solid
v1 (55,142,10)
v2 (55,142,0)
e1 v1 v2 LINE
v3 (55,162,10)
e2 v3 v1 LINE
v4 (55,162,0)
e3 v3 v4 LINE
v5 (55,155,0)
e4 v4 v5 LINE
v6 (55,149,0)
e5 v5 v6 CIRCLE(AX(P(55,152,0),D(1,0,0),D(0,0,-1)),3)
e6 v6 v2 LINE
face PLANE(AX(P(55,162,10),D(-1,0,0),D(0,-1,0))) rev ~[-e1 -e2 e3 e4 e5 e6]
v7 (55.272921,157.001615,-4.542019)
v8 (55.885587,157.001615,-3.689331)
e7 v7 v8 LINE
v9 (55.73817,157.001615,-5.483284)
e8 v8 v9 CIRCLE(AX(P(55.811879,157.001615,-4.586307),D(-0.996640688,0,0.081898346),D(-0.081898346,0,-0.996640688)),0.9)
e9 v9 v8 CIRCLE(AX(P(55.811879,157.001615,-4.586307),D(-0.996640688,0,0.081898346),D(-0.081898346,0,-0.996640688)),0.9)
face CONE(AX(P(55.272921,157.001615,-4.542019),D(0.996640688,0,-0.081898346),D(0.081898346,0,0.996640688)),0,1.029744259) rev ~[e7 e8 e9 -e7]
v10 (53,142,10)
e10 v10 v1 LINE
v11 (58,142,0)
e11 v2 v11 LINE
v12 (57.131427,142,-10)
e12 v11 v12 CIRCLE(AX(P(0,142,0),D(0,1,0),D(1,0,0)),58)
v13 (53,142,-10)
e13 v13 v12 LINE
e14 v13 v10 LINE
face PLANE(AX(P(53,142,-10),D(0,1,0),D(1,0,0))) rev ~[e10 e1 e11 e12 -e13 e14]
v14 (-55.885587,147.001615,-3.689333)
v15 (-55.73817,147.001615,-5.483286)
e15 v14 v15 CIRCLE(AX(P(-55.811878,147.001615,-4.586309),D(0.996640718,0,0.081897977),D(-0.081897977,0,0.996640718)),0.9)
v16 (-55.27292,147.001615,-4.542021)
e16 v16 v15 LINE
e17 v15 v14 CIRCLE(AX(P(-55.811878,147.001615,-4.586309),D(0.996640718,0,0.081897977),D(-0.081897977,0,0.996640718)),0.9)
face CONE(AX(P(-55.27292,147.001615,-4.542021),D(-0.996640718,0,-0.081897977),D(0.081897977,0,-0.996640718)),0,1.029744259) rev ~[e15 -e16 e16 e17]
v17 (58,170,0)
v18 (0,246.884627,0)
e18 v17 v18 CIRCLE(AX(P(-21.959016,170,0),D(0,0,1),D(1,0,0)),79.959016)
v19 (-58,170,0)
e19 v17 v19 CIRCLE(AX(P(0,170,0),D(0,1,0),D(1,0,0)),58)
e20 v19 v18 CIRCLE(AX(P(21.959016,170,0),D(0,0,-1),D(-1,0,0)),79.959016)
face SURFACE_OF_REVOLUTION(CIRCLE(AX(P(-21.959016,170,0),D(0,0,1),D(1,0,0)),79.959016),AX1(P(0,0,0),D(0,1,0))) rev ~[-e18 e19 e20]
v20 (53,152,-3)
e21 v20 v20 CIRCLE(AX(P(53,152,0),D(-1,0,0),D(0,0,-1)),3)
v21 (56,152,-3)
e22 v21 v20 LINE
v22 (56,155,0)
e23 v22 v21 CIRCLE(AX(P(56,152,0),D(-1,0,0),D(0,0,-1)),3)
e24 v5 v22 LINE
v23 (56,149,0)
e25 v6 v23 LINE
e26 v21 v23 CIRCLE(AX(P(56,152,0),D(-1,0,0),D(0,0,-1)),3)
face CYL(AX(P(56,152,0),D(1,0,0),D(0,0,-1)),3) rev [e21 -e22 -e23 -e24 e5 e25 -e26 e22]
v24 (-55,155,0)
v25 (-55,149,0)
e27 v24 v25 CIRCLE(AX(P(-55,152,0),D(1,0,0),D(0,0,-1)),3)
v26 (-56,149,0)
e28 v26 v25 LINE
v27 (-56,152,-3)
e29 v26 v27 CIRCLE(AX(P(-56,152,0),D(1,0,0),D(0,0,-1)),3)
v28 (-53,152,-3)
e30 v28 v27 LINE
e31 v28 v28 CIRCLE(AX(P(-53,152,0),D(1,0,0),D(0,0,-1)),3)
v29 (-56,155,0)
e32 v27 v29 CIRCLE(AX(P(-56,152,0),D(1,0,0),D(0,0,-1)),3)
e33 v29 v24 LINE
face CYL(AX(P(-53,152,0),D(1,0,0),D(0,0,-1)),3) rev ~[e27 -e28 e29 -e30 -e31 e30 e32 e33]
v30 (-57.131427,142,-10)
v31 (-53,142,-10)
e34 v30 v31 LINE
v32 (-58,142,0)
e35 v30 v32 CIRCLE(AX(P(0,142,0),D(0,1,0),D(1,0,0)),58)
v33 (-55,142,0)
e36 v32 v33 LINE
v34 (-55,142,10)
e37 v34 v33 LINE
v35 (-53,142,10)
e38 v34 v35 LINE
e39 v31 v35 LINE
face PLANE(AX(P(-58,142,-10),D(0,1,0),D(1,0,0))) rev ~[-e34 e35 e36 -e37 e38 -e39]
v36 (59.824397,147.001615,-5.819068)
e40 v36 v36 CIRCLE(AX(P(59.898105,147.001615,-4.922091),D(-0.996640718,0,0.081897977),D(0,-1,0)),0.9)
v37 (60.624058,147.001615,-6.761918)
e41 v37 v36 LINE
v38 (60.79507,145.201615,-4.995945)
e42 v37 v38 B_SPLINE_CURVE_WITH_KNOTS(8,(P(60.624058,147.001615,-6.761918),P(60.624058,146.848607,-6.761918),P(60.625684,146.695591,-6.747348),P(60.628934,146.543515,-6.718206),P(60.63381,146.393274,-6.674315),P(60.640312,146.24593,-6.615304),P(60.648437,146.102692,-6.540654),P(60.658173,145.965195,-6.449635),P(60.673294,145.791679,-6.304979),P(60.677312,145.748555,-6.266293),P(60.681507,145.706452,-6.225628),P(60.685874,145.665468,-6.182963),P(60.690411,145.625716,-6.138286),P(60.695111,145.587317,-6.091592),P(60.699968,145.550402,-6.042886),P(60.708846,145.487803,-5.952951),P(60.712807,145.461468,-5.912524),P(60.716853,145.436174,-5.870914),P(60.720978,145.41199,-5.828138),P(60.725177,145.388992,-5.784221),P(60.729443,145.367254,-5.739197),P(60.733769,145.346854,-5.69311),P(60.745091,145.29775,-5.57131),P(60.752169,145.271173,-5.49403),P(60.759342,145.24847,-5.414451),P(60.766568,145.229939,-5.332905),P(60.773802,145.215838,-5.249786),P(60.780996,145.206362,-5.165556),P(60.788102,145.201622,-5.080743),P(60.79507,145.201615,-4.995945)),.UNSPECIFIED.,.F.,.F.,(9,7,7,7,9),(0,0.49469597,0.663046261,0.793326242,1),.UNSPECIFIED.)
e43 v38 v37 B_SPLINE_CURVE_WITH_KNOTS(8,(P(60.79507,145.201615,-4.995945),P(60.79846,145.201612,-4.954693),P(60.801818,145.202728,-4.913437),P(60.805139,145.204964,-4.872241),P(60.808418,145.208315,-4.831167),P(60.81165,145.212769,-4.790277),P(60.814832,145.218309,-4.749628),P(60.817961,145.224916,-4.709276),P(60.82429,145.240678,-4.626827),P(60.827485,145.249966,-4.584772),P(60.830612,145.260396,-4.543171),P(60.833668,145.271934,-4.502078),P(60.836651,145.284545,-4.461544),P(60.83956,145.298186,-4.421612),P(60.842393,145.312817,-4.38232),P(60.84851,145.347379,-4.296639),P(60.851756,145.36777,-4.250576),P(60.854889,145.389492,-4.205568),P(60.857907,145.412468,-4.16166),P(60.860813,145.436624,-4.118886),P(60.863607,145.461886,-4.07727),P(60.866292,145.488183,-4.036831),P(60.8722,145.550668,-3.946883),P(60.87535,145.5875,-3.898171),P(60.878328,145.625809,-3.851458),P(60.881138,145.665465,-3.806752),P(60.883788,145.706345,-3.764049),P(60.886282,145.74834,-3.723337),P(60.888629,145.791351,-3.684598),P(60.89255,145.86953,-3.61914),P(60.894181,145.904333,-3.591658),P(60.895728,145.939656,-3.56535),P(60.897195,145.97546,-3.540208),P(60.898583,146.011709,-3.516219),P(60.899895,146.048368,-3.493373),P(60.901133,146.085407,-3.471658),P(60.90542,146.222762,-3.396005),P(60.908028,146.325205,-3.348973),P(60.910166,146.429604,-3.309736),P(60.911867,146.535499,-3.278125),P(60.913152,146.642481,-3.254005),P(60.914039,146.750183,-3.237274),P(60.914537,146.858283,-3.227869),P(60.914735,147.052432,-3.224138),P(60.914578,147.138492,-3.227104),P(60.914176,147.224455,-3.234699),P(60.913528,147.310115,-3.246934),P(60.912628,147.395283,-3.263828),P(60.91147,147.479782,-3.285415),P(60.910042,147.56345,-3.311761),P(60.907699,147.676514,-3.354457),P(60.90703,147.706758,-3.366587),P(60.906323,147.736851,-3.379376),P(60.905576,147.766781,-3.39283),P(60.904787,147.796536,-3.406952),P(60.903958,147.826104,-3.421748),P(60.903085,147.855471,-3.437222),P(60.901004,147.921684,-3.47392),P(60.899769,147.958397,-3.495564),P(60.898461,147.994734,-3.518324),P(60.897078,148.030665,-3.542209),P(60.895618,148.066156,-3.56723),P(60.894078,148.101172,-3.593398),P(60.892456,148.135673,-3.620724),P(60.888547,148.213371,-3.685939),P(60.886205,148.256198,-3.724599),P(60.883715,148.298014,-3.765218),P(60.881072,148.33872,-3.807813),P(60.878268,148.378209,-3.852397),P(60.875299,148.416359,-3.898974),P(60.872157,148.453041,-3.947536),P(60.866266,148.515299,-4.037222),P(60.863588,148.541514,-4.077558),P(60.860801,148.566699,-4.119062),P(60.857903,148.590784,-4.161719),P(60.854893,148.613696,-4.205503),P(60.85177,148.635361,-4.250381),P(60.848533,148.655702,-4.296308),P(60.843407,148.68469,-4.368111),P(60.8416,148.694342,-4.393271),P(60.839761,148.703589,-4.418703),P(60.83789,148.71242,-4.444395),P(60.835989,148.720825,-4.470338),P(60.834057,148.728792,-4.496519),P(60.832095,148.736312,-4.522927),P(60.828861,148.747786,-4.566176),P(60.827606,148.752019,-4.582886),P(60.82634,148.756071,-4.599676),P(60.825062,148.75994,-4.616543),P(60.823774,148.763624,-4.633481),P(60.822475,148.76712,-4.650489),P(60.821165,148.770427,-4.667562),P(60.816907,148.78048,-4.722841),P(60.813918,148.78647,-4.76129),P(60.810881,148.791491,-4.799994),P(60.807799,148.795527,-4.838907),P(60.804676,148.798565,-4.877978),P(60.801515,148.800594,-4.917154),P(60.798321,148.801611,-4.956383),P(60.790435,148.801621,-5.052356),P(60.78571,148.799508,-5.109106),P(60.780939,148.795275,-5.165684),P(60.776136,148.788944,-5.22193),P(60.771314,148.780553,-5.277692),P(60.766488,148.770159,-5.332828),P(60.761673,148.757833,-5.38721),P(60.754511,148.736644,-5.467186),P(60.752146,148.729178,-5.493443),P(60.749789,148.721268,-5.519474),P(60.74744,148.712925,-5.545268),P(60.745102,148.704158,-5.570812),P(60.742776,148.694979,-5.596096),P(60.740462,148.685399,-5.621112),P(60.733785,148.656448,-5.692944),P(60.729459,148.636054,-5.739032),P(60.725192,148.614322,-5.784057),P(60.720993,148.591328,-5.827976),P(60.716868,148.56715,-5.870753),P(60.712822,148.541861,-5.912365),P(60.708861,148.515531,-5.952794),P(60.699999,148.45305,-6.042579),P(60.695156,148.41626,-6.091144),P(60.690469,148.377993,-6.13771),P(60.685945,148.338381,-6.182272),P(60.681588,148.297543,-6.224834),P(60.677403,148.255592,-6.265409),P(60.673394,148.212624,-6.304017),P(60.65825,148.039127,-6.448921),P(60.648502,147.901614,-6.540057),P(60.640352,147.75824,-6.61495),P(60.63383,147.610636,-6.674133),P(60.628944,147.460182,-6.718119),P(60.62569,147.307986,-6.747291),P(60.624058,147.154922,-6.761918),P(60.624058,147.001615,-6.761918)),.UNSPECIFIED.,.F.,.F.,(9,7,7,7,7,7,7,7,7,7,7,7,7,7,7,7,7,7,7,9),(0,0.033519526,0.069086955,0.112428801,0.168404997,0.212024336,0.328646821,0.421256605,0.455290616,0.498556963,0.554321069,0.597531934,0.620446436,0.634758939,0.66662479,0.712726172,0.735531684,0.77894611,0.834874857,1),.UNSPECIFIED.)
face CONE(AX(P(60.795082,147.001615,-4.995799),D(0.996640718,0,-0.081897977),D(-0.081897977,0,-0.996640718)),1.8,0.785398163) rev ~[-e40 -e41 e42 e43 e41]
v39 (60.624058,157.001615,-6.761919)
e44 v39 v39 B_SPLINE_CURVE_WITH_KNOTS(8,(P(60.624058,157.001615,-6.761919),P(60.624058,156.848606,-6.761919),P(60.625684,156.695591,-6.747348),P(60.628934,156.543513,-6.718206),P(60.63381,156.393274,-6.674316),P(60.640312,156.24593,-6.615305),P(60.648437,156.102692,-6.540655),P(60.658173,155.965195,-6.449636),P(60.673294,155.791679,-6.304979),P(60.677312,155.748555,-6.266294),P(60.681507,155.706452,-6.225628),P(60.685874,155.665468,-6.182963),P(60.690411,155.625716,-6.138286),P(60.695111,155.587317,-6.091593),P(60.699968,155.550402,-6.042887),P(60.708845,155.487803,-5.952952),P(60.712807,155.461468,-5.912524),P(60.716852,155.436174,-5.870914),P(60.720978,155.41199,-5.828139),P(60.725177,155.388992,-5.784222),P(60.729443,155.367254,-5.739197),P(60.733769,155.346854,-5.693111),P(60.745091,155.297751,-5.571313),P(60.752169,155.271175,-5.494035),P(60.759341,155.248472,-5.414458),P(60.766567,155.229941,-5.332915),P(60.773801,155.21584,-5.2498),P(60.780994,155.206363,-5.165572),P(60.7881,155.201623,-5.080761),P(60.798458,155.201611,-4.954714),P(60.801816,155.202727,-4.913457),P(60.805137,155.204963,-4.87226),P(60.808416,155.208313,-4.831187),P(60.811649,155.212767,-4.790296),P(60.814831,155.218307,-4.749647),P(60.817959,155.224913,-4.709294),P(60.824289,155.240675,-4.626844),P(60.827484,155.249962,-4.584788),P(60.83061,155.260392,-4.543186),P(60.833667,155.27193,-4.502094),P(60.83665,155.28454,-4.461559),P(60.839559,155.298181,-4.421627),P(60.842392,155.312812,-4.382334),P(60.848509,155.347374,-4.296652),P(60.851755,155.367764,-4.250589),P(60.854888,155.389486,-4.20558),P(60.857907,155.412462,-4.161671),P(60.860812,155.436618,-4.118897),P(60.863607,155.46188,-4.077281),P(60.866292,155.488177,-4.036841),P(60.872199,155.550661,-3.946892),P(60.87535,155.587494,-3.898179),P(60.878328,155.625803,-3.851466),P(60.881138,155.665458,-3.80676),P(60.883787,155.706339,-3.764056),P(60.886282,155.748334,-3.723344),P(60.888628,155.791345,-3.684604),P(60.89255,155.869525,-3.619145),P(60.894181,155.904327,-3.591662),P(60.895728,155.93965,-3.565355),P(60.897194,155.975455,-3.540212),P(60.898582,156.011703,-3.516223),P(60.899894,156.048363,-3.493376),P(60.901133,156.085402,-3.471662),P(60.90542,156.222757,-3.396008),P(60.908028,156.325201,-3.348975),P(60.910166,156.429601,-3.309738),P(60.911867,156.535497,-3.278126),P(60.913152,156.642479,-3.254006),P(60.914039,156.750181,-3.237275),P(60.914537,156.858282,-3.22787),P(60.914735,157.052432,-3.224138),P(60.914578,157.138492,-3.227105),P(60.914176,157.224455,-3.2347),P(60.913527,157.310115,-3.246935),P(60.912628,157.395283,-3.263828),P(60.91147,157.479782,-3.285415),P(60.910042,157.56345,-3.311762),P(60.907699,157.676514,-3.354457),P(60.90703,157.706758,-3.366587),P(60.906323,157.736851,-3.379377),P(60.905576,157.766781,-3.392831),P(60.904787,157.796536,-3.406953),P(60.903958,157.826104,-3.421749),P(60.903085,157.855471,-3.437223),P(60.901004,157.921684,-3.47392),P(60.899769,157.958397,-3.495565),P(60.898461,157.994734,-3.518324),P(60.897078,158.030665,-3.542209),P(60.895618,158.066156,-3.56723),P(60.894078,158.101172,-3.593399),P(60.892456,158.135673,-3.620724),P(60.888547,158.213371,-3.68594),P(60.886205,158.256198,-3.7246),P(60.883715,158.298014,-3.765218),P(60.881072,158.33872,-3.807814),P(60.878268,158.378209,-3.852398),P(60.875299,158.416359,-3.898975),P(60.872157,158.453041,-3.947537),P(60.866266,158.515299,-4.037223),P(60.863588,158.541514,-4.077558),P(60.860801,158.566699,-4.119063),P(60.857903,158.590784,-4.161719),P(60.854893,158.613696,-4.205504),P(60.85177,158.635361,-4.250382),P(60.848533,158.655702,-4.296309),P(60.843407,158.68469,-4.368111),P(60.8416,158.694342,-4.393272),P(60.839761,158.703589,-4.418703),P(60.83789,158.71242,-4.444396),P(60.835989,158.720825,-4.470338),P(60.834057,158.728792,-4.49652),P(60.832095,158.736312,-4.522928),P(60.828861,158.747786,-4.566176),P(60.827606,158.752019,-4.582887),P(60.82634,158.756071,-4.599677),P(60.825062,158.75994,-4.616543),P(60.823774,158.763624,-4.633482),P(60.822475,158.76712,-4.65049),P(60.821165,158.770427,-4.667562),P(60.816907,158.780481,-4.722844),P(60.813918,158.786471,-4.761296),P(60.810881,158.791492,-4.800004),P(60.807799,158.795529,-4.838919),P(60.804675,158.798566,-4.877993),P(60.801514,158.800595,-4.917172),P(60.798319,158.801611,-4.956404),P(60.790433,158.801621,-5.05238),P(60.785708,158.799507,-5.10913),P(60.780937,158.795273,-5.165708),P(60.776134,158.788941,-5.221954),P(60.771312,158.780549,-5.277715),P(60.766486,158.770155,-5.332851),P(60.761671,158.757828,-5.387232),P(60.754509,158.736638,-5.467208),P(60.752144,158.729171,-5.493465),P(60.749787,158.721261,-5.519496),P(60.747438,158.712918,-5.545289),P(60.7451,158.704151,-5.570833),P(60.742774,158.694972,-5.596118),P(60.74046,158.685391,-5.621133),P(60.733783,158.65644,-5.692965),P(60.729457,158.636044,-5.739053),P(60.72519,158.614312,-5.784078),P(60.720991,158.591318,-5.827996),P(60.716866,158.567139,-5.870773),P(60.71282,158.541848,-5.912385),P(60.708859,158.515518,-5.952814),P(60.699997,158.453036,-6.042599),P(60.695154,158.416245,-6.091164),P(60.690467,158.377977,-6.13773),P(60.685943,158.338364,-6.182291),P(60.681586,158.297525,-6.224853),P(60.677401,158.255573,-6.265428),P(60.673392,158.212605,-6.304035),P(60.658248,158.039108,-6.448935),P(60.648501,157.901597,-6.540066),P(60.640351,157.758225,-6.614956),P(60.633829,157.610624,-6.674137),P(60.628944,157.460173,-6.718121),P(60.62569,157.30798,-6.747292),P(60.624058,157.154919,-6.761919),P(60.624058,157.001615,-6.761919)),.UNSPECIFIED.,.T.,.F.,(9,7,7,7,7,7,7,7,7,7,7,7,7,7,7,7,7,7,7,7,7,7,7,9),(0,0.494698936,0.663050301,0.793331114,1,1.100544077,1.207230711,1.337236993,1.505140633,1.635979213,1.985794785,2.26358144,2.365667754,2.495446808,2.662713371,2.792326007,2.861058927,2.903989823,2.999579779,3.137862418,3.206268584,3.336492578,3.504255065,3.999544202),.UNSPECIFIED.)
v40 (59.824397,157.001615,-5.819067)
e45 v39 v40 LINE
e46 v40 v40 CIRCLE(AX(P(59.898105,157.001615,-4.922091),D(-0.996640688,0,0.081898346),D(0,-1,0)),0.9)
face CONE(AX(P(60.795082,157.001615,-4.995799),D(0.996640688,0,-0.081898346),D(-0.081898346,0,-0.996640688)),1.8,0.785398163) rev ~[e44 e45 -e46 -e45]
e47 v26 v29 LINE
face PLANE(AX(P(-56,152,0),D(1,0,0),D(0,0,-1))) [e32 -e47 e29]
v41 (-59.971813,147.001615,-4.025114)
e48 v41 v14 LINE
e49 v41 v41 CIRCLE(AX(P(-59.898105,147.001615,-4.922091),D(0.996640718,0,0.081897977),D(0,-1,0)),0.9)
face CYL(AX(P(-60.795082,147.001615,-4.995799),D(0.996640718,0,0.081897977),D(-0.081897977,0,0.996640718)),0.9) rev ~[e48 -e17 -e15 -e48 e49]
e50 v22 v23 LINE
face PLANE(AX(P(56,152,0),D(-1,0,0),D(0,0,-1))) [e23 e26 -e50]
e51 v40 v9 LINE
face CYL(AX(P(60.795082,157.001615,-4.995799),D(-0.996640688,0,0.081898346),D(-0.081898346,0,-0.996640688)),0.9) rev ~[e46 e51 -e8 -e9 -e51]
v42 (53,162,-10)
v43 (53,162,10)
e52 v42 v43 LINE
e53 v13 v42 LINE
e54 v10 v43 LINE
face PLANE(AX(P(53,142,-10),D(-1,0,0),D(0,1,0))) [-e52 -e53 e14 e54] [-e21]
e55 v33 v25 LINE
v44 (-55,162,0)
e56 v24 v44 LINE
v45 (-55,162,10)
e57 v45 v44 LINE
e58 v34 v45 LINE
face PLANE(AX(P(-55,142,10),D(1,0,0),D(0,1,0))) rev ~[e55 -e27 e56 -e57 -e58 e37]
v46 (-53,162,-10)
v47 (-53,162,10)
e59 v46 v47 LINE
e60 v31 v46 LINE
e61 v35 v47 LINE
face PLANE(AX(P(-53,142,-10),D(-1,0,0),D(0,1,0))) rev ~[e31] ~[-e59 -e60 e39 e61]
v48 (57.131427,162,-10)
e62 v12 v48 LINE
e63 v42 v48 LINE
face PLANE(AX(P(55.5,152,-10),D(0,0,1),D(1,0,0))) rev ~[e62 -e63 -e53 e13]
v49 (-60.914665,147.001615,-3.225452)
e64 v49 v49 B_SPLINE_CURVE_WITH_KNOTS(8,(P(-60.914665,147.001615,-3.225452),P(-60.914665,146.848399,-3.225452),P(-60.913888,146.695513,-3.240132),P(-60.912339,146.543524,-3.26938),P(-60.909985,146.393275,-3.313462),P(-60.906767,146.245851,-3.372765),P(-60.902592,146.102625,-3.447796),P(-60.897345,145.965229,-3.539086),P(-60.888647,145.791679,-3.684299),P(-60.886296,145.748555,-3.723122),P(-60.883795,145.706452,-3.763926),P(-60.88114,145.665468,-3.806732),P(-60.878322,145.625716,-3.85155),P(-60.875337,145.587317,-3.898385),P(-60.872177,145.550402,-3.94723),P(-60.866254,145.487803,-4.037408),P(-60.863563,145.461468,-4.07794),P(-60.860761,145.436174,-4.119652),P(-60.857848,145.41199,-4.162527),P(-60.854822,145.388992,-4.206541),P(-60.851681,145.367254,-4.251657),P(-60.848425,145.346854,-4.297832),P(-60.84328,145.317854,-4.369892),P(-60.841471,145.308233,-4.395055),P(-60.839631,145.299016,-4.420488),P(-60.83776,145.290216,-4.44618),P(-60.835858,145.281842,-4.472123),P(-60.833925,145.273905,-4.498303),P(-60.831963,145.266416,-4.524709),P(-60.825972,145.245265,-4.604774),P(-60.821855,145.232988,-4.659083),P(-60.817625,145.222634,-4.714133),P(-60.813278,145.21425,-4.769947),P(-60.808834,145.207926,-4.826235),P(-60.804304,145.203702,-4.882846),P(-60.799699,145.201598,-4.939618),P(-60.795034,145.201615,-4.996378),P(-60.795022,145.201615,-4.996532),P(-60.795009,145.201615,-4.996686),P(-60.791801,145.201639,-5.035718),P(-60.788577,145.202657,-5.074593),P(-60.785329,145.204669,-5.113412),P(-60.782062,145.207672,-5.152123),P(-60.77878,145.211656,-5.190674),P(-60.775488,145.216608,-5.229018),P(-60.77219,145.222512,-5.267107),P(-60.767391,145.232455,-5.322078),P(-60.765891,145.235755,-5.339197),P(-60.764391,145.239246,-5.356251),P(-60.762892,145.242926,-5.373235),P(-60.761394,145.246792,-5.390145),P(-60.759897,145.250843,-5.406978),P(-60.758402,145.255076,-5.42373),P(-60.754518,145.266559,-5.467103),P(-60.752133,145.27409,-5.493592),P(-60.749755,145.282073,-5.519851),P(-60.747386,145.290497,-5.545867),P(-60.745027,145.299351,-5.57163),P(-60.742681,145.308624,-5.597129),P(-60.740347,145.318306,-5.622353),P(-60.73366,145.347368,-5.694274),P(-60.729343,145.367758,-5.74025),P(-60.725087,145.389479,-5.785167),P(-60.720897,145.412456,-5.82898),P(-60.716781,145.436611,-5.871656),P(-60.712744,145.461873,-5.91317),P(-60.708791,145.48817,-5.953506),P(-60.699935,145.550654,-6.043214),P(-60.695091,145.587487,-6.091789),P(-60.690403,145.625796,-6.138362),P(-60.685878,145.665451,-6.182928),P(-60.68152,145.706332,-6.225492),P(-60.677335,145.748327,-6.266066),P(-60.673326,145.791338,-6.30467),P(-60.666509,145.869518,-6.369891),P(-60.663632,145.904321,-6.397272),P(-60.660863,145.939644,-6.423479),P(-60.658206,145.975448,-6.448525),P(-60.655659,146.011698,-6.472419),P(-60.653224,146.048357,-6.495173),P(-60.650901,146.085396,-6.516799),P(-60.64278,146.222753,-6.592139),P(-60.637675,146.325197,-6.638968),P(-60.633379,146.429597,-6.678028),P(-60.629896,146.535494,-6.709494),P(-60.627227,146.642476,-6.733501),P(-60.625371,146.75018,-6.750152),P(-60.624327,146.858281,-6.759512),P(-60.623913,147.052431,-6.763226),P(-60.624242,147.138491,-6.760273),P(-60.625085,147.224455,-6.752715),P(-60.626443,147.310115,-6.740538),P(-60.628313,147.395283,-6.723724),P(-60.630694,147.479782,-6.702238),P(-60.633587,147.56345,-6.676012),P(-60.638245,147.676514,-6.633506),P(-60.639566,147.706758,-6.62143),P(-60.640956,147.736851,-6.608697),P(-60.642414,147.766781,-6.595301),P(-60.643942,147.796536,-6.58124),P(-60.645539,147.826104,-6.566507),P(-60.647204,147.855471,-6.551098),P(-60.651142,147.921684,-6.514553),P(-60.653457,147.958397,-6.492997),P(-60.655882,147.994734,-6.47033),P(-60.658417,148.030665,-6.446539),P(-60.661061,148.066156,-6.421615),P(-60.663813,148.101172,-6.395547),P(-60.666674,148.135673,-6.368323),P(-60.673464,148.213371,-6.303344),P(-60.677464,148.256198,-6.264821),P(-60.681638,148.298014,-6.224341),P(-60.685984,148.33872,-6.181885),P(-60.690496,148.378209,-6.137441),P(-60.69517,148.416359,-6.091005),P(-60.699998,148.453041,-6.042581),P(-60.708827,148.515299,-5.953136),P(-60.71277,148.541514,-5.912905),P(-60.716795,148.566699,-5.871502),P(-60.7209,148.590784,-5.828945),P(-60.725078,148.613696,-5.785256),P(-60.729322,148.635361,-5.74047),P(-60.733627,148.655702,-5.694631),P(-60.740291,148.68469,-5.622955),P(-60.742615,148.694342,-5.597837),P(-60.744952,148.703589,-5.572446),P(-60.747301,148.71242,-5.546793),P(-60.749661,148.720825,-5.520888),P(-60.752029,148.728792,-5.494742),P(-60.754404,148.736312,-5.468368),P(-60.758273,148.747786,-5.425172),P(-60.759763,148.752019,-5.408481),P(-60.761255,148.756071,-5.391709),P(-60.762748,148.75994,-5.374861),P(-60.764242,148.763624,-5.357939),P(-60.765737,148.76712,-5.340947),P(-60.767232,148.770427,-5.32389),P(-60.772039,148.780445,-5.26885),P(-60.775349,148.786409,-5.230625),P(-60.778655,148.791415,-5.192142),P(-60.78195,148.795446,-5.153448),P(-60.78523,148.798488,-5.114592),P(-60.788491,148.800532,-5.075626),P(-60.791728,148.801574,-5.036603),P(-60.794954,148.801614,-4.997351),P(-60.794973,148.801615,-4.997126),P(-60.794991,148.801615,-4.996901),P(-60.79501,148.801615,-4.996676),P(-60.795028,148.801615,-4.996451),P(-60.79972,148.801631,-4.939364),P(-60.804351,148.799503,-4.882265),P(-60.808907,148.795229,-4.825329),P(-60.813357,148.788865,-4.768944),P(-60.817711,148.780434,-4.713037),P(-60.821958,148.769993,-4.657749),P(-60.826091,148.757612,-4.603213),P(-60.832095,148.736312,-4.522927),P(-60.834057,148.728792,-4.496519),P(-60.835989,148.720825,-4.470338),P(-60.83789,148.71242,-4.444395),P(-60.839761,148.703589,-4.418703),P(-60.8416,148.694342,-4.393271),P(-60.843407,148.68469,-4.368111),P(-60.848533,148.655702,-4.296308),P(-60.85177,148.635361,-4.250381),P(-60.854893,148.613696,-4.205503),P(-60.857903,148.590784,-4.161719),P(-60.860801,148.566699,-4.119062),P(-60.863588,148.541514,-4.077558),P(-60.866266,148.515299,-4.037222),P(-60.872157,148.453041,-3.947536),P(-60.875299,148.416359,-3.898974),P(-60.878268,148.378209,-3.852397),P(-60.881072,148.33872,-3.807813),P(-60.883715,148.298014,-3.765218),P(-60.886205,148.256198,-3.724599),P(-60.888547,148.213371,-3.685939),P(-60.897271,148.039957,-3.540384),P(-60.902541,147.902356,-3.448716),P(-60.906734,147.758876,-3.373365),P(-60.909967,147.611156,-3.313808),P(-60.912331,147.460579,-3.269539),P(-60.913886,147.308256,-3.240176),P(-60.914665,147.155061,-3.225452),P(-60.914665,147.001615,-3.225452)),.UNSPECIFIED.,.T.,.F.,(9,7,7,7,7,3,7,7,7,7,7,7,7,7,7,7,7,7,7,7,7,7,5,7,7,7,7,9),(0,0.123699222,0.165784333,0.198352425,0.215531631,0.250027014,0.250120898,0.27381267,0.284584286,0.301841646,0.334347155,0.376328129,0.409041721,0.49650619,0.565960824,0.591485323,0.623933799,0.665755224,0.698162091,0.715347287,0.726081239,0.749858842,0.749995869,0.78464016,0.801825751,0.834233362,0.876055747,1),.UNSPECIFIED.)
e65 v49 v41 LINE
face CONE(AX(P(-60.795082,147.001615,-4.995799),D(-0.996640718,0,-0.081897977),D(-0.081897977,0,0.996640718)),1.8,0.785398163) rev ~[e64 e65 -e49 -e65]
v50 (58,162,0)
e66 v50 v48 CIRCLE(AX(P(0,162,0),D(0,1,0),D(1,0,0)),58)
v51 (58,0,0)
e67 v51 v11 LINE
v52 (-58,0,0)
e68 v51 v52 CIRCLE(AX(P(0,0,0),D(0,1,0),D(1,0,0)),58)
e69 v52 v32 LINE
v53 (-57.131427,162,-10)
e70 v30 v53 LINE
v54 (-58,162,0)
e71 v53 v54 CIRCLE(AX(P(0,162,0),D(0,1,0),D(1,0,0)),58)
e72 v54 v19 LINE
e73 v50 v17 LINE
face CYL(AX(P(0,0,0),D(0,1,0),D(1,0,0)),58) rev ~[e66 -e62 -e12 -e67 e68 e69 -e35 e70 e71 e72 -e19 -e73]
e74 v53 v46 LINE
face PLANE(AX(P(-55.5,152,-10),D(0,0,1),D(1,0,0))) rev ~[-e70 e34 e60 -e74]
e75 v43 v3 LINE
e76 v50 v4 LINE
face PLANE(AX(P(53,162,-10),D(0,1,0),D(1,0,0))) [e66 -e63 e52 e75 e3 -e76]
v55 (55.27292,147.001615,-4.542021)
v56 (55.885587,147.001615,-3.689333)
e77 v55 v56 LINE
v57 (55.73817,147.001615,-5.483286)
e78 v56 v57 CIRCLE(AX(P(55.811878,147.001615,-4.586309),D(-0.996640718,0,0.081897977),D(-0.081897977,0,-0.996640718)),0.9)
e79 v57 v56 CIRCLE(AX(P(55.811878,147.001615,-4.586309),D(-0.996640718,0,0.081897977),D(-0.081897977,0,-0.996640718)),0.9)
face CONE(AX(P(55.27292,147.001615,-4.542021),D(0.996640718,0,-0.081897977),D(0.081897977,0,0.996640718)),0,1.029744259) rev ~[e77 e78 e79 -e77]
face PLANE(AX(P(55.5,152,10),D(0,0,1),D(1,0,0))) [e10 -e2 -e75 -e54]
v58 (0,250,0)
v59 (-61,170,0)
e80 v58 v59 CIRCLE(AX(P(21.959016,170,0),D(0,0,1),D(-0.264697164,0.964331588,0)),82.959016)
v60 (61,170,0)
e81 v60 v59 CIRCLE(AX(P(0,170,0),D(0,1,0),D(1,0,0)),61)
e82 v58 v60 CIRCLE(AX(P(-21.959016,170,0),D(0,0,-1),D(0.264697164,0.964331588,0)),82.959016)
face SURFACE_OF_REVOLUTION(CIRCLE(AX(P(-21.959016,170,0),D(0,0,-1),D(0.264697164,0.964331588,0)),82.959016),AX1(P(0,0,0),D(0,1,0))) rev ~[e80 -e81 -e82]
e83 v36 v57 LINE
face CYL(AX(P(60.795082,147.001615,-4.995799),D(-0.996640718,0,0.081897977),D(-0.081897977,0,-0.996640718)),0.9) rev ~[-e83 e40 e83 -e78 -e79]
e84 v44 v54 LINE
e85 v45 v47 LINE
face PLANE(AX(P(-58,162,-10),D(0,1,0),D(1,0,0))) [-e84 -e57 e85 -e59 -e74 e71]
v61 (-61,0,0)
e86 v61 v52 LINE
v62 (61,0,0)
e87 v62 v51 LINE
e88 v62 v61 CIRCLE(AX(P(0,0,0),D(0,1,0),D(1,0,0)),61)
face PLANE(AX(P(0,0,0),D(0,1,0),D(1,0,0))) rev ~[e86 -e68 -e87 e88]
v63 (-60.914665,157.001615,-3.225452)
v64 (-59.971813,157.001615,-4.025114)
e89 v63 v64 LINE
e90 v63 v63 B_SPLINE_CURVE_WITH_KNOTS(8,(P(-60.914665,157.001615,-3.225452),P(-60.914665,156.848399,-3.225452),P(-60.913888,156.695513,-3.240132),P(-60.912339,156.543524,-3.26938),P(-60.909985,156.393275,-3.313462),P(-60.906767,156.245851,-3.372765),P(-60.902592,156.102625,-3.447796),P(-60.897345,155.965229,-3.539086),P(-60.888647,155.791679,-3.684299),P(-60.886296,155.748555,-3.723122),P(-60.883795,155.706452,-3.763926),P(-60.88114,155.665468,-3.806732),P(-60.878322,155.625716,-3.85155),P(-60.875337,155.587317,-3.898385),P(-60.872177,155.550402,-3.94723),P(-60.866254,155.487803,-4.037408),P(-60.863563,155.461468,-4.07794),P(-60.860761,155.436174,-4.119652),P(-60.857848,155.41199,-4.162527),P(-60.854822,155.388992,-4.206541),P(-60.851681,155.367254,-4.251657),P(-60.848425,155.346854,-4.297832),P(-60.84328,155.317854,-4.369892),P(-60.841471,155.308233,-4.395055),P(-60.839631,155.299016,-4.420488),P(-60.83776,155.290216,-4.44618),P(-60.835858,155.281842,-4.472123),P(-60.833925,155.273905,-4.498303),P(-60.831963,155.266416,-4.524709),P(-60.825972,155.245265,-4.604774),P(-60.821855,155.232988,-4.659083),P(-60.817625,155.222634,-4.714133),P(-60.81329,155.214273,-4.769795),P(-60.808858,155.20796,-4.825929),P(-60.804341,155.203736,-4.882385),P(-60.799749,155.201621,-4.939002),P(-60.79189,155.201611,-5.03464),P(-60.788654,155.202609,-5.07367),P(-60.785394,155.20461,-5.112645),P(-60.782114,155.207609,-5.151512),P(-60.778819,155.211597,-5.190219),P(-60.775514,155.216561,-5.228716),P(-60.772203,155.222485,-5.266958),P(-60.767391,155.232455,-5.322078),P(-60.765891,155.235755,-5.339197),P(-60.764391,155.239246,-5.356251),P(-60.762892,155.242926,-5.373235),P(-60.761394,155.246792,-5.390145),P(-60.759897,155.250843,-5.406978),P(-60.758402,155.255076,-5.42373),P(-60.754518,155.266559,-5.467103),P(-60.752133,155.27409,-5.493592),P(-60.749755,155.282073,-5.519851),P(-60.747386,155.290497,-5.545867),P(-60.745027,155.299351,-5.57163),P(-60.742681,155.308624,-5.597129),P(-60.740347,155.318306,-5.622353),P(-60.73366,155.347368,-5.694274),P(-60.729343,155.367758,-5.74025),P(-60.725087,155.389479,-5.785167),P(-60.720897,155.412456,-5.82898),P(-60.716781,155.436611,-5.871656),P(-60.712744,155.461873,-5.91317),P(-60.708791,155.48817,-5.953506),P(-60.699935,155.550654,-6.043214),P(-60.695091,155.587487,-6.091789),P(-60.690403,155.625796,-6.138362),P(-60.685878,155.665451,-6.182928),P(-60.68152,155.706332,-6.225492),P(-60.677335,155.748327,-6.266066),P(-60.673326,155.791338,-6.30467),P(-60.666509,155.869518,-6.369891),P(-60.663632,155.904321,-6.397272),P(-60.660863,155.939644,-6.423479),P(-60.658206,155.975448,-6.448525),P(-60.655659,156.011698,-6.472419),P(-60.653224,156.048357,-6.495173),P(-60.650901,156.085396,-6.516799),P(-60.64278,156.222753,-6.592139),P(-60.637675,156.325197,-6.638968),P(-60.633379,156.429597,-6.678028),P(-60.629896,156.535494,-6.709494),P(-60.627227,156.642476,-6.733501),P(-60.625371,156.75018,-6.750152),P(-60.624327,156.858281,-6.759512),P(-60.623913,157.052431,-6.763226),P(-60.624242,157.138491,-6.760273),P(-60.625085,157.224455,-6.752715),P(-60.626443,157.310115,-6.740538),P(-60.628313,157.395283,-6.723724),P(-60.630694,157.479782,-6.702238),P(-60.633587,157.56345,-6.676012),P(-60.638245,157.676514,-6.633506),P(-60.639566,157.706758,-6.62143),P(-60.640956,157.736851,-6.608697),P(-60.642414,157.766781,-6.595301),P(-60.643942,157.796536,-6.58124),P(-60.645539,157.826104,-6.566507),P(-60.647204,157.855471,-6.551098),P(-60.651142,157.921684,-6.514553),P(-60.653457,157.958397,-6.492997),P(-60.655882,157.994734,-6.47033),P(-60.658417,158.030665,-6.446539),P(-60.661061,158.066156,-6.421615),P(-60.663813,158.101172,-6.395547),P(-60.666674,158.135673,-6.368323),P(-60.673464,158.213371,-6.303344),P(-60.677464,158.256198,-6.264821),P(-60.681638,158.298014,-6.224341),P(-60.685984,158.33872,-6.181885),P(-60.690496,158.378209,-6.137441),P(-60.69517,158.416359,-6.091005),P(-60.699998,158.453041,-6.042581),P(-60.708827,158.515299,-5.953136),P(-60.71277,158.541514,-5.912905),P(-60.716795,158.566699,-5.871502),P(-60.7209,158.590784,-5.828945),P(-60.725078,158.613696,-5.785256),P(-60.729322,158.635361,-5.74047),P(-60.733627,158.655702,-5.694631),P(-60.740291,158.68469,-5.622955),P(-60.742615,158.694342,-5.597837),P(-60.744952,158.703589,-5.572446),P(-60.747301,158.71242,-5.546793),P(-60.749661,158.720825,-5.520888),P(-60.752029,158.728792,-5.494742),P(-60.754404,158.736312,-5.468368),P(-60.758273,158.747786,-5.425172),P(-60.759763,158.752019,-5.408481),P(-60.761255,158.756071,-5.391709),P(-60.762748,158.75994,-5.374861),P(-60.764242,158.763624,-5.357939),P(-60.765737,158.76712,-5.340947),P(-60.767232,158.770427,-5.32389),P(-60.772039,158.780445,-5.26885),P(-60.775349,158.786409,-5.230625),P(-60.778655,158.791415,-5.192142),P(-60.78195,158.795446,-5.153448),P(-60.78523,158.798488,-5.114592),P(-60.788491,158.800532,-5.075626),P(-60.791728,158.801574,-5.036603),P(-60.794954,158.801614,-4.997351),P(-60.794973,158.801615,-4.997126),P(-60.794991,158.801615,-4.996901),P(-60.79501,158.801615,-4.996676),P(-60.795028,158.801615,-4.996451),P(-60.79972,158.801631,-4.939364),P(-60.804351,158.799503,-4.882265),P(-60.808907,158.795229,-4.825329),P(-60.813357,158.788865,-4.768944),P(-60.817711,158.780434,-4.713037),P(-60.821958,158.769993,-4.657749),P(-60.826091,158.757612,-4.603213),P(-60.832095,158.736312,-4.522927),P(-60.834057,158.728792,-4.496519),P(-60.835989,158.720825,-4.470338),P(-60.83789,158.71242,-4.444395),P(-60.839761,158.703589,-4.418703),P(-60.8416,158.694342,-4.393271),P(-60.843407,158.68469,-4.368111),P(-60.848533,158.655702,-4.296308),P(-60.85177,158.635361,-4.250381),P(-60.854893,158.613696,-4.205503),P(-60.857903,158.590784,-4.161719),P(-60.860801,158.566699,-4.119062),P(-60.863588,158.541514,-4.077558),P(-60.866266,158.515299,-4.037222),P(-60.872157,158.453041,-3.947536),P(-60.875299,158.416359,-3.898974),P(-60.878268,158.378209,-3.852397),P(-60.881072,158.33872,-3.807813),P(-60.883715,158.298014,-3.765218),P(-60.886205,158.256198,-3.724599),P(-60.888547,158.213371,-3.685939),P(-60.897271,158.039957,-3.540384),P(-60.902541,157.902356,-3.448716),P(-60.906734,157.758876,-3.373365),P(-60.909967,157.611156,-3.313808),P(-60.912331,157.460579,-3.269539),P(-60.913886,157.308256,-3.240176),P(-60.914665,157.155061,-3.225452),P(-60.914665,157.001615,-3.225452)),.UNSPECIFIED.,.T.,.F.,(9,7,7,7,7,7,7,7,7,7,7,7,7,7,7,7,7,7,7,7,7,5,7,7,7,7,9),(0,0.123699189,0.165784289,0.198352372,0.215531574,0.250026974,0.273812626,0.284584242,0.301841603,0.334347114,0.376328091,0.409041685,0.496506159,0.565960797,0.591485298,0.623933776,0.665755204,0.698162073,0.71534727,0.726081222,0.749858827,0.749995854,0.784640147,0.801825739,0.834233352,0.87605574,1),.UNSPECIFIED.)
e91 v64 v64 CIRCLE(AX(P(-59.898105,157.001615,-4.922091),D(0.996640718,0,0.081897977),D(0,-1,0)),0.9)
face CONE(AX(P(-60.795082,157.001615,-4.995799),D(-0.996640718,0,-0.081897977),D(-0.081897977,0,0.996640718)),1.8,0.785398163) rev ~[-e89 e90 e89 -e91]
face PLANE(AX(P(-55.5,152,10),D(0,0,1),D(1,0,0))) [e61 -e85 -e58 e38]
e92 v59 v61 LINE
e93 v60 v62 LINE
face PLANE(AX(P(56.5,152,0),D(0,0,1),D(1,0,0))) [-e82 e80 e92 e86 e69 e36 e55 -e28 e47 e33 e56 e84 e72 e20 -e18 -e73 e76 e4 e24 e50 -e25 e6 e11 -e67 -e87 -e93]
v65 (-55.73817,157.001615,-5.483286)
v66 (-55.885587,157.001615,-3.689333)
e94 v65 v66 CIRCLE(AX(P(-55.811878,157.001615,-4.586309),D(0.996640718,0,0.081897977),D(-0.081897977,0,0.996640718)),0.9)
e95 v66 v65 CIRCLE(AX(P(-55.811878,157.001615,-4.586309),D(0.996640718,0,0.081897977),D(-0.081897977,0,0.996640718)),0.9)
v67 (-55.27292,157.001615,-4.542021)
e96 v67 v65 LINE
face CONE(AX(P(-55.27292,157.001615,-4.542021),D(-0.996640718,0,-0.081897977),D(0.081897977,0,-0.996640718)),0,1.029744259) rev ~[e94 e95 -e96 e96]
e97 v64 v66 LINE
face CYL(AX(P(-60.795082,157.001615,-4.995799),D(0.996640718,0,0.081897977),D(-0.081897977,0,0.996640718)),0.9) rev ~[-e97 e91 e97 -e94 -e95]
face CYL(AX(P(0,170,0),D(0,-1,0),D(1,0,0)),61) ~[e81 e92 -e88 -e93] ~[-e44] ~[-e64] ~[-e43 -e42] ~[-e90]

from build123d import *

# Parameters (mm, degrees)
REVOLVE1_ANGLE                                       = 180
BOSS_EXTRUDE1_DEPTH                                  = 10
BOSS_EXTRUDE1_DEPTH_BACK                             = 10
SKETCH2_W                                            = 5
SKETCH2_H                                            = 20
CUT_EXTRUDE1_DEPTH                                   = 10
CSK_FOR_M1_6_COUNTERSUNK_FLAT_HEAD_SCREW_D           = 1.8
CSK_FOR_M1_6_COUNTERSUNK_FLAT_HEAD_SCREW_DEPTH       = 5
CSK_FOR_M1_6_COUNTERSUNK_FLAT_HEAD_SCREW_CSINK_D     = 3.6
CSK_FOR_M1_6_COUNTERSUNK_FLAT_HEAD_SCREW_CSINK_ANGLE = 90
CSK_FOR_M1_6_COUNTERSUNK_FLAT_HEAD_SCREW_TIP         = 0.540774557
CSK_FOR_M1_6_COUNTERSUNK_FLAT_HEAD_S_2_D             = 1.8
CSK_FOR_M1_6_COUNTERSUNK_FLAT_HEAD_S_2_DEPTH         = 5
CSK_FOR_M1_6_COUNTERSUNK_FLAT_HEAD_S_2_CSINK_D       = 3.6
CSK_FOR_M1_6_COUNTERSUNK_FLAT_HEAD_S_2_CSINK_ANGLE   = 90
CSK_FOR_M1_6_COUNTERSUNK_FLAT_HEAD_S_2_TIP           = 0.540774557
CSK_FOR_M1_6_COUNTERSUNK_FLAT_HEAD_S_3_D             = 1.8
CSK_FOR_M1_6_COUNTERSUNK_FLAT_HEAD_S_3_DEPTH         = 5
CSK_FOR_M1_6_COUNTERSUNK_FLAT_HEAD_S_3_CSINK_D       = 3.6
CSK_FOR_M1_6_COUNTERSUNK_FLAT_HEAD_S_3_CSINK_ANGLE   = 90
CSK_FOR_M1_6_COUNTERSUNK_FLAT_HEAD_S_3_TIP           = 0.540774557
SKETCH9_R                                            = 3
CUT_EXTRUDE2_DEPTH                                   = 3
CUT_EXTRUDE3_START                                   = -3
SKETCH10_R                                           = 3
CUT_EXTRUDE3_DEPTH                                   = 3


with BuildPart() as part:
    # Sketch1 → Revolve1 (revolve)
    with BuildSketch(Plane.XY):
        with BuildLine():
            Line((61, 170), (61, 0))
            Line((61, 0), (58, 0))
            Line((58, 0), (58, 170))
            ThreePointArc((58, 170), (41.873834296, 218.154039035), (0, 246.884627213))
            Line((0, 246.884627213), (0, 250))
            ThreePointArc((0, 250), (44.010282534, 220.301590432), (61, 170))
        make_face()
    revolve(axis=Axis((0, 0, 0), (0, 1, 0)), revolution_arc=REVOLVE1_ANGLE)

    # Sketch2 → Boss-Extrude1 (add, two sides: drawn at the far end of the back side and taken through both)
    with BuildSketch(Plane.XY.offset(-BOSS_EXTRUDE1_DEPTH_BACK)):
        with Locations((55.5, 152)):
            Rectangle(SKETCH2_W, SKETCH2_H)
        with Locations((-55.5, 152)):
            Rectangle(SKETCH2_W, SKETCH2_H)
    extrude(amount=BOSS_EXTRUDE1_DEPTH + BOSS_EXTRUDE1_DEPTH_BACK)

    # Sketch4 → Cut-Extrude1 (cut)
    with BuildSketch(Plane.XY.offset(10)):
        Polygon((-55, 162), (-56, 162), (-58, 162), (-58, 142), (-56, 142), (-55, 142), align=None)
        Polygon((55, 142), (56, 142), (58, 142), (58, 162), (56, 162), (55, 162), align=None)
    extrude(amount=-CUT_EXTRUDE1_DEPTH, mode=Mode.SUBTRACT)

    # CSK for M1.6 Countersunk Flat Head Screw2
    with Locations(Plane(origin=(60.795081967, 157.001615154, -4.995799095), x_dir=(0.081898345823, 0, 0.996640687987), z_dir=(0.996640687987, 0, -0.081898345823))):
        with Locations((0, 0)):
            CounterSinkHole(CSK_FOR_M1_6_COUNTERSUNK_FLAT_HEAD_SCREW_D / 2, CSK_FOR_M1_6_COUNTERSUNK_FLAT_HEAD_SCREW_CSINK_D / 2, depth=CSK_FOR_M1_6_COUNTERSUNK_FLAT_HEAD_SCREW_DEPTH, counter_sink_angle=CSK_FOR_M1_6_COUNTERSUNK_FLAT_HEAD_SCREW_CSINK_ANGLE)
            with Locations((0, 0, -(CSK_FOR_M1_6_COUNTERSUNK_FLAT_HEAD_SCREW_DEPTH + CSK_FOR_M1_6_COUNTERSUNK_FLAT_HEAD_SCREW_TIP / 2))):  # 118° drill point
                Cone(0, CSK_FOR_M1_6_COUNTERSUNK_FLAT_HEAD_SCREW_D / 2, CSK_FOR_M1_6_COUNTERSUNK_FLAT_HEAD_SCREW_TIP, mode=Mode.SUBTRACT)

    # CSK for M1.6 Countersunk Flat Head S 2
    with Locations(Plane(origin=(60.795081967, 147.001615154, -4.995799095), x_dir=(0.081897976852, 0, 0.996640718307), z_dir=(0.996640718307, 0, -0.081897976852))):
        with Locations((0, 0)):
            CounterSinkHole(CSK_FOR_M1_6_COUNTERSUNK_FLAT_HEAD_S_2_D / 2, CSK_FOR_M1_6_COUNTERSUNK_FLAT_HEAD_S_2_CSINK_D / 2, depth=CSK_FOR_M1_6_COUNTERSUNK_FLAT_HEAD_S_2_DEPTH, counter_sink_angle=CSK_FOR_M1_6_COUNTERSUNK_FLAT_HEAD_S_2_CSINK_ANGLE)
            with Locations((0, 0, -(CSK_FOR_M1_6_COUNTERSUNK_FLAT_HEAD_S_2_DEPTH + CSK_FOR_M1_6_COUNTERSUNK_FLAT_HEAD_S_2_TIP / 2))):  # 118° drill point
                Cone(0, CSK_FOR_M1_6_COUNTERSUNK_FLAT_HEAD_S_2_D / 2, CSK_FOR_M1_6_COUNTERSUNK_FLAT_HEAD_S_2_TIP, mode=Mode.SUBTRACT)

    # CSK for M1.6 Countersunk Flat Head S 3
    with Locations(Plane(origin=(-60.795081967, 147.001615154, -4.995799095), x_dir=(0.081897976852, 0, -0.996640718307), z_dir=(-0.996640718307, 0, -0.081897976852))):
        with Locations((0, 0), (0, -10)):
            CounterSinkHole(CSK_FOR_M1_6_COUNTERSUNK_FLAT_HEAD_S_3_D / 2, CSK_FOR_M1_6_COUNTERSUNK_FLAT_HEAD_S_3_CSINK_D / 2, depth=CSK_FOR_M1_6_COUNTERSUNK_FLAT_HEAD_S_3_DEPTH, counter_sink_angle=CSK_FOR_M1_6_COUNTERSUNK_FLAT_HEAD_S_3_CSINK_ANGLE)
            with Locations((0, 0, -(CSK_FOR_M1_6_COUNTERSUNK_FLAT_HEAD_S_3_DEPTH + CSK_FOR_M1_6_COUNTERSUNK_FLAT_HEAD_S_3_TIP / 2))):  # 118° drill point
                Cone(0, CSK_FOR_M1_6_COUNTERSUNK_FLAT_HEAD_S_3_D / 2, CSK_FOR_M1_6_COUNTERSUNK_FLAT_HEAD_S_3_TIP, mode=Mode.SUBTRACT)

    # Sketch9 → Cut-Extrude2 (cut)
    with BuildSketch(Plane(origin=(-53, 0, 0), x_dir=(0, 0, -1), z_dir=(1, 0, 0))):
        with Locations((0, 152)):
            Circle(SKETCH9_R)
    extrude(amount=-CUT_EXTRUDE2_DEPTH, mode=Mode.SUBTRACT)

    # Sketch10 → Cut-Extrude3 (cut)
    with BuildSketch(Plane.ZY.offset(-53).offset(CUT_EXTRUDE3_START)):
        with Locations((0, 152)):
            Circle(SKETCH10_R)
    extrude(amount=CUT_EXTRUDE3_DEPTH, mode=Mode.SUBTRACT)


solid = part.part
